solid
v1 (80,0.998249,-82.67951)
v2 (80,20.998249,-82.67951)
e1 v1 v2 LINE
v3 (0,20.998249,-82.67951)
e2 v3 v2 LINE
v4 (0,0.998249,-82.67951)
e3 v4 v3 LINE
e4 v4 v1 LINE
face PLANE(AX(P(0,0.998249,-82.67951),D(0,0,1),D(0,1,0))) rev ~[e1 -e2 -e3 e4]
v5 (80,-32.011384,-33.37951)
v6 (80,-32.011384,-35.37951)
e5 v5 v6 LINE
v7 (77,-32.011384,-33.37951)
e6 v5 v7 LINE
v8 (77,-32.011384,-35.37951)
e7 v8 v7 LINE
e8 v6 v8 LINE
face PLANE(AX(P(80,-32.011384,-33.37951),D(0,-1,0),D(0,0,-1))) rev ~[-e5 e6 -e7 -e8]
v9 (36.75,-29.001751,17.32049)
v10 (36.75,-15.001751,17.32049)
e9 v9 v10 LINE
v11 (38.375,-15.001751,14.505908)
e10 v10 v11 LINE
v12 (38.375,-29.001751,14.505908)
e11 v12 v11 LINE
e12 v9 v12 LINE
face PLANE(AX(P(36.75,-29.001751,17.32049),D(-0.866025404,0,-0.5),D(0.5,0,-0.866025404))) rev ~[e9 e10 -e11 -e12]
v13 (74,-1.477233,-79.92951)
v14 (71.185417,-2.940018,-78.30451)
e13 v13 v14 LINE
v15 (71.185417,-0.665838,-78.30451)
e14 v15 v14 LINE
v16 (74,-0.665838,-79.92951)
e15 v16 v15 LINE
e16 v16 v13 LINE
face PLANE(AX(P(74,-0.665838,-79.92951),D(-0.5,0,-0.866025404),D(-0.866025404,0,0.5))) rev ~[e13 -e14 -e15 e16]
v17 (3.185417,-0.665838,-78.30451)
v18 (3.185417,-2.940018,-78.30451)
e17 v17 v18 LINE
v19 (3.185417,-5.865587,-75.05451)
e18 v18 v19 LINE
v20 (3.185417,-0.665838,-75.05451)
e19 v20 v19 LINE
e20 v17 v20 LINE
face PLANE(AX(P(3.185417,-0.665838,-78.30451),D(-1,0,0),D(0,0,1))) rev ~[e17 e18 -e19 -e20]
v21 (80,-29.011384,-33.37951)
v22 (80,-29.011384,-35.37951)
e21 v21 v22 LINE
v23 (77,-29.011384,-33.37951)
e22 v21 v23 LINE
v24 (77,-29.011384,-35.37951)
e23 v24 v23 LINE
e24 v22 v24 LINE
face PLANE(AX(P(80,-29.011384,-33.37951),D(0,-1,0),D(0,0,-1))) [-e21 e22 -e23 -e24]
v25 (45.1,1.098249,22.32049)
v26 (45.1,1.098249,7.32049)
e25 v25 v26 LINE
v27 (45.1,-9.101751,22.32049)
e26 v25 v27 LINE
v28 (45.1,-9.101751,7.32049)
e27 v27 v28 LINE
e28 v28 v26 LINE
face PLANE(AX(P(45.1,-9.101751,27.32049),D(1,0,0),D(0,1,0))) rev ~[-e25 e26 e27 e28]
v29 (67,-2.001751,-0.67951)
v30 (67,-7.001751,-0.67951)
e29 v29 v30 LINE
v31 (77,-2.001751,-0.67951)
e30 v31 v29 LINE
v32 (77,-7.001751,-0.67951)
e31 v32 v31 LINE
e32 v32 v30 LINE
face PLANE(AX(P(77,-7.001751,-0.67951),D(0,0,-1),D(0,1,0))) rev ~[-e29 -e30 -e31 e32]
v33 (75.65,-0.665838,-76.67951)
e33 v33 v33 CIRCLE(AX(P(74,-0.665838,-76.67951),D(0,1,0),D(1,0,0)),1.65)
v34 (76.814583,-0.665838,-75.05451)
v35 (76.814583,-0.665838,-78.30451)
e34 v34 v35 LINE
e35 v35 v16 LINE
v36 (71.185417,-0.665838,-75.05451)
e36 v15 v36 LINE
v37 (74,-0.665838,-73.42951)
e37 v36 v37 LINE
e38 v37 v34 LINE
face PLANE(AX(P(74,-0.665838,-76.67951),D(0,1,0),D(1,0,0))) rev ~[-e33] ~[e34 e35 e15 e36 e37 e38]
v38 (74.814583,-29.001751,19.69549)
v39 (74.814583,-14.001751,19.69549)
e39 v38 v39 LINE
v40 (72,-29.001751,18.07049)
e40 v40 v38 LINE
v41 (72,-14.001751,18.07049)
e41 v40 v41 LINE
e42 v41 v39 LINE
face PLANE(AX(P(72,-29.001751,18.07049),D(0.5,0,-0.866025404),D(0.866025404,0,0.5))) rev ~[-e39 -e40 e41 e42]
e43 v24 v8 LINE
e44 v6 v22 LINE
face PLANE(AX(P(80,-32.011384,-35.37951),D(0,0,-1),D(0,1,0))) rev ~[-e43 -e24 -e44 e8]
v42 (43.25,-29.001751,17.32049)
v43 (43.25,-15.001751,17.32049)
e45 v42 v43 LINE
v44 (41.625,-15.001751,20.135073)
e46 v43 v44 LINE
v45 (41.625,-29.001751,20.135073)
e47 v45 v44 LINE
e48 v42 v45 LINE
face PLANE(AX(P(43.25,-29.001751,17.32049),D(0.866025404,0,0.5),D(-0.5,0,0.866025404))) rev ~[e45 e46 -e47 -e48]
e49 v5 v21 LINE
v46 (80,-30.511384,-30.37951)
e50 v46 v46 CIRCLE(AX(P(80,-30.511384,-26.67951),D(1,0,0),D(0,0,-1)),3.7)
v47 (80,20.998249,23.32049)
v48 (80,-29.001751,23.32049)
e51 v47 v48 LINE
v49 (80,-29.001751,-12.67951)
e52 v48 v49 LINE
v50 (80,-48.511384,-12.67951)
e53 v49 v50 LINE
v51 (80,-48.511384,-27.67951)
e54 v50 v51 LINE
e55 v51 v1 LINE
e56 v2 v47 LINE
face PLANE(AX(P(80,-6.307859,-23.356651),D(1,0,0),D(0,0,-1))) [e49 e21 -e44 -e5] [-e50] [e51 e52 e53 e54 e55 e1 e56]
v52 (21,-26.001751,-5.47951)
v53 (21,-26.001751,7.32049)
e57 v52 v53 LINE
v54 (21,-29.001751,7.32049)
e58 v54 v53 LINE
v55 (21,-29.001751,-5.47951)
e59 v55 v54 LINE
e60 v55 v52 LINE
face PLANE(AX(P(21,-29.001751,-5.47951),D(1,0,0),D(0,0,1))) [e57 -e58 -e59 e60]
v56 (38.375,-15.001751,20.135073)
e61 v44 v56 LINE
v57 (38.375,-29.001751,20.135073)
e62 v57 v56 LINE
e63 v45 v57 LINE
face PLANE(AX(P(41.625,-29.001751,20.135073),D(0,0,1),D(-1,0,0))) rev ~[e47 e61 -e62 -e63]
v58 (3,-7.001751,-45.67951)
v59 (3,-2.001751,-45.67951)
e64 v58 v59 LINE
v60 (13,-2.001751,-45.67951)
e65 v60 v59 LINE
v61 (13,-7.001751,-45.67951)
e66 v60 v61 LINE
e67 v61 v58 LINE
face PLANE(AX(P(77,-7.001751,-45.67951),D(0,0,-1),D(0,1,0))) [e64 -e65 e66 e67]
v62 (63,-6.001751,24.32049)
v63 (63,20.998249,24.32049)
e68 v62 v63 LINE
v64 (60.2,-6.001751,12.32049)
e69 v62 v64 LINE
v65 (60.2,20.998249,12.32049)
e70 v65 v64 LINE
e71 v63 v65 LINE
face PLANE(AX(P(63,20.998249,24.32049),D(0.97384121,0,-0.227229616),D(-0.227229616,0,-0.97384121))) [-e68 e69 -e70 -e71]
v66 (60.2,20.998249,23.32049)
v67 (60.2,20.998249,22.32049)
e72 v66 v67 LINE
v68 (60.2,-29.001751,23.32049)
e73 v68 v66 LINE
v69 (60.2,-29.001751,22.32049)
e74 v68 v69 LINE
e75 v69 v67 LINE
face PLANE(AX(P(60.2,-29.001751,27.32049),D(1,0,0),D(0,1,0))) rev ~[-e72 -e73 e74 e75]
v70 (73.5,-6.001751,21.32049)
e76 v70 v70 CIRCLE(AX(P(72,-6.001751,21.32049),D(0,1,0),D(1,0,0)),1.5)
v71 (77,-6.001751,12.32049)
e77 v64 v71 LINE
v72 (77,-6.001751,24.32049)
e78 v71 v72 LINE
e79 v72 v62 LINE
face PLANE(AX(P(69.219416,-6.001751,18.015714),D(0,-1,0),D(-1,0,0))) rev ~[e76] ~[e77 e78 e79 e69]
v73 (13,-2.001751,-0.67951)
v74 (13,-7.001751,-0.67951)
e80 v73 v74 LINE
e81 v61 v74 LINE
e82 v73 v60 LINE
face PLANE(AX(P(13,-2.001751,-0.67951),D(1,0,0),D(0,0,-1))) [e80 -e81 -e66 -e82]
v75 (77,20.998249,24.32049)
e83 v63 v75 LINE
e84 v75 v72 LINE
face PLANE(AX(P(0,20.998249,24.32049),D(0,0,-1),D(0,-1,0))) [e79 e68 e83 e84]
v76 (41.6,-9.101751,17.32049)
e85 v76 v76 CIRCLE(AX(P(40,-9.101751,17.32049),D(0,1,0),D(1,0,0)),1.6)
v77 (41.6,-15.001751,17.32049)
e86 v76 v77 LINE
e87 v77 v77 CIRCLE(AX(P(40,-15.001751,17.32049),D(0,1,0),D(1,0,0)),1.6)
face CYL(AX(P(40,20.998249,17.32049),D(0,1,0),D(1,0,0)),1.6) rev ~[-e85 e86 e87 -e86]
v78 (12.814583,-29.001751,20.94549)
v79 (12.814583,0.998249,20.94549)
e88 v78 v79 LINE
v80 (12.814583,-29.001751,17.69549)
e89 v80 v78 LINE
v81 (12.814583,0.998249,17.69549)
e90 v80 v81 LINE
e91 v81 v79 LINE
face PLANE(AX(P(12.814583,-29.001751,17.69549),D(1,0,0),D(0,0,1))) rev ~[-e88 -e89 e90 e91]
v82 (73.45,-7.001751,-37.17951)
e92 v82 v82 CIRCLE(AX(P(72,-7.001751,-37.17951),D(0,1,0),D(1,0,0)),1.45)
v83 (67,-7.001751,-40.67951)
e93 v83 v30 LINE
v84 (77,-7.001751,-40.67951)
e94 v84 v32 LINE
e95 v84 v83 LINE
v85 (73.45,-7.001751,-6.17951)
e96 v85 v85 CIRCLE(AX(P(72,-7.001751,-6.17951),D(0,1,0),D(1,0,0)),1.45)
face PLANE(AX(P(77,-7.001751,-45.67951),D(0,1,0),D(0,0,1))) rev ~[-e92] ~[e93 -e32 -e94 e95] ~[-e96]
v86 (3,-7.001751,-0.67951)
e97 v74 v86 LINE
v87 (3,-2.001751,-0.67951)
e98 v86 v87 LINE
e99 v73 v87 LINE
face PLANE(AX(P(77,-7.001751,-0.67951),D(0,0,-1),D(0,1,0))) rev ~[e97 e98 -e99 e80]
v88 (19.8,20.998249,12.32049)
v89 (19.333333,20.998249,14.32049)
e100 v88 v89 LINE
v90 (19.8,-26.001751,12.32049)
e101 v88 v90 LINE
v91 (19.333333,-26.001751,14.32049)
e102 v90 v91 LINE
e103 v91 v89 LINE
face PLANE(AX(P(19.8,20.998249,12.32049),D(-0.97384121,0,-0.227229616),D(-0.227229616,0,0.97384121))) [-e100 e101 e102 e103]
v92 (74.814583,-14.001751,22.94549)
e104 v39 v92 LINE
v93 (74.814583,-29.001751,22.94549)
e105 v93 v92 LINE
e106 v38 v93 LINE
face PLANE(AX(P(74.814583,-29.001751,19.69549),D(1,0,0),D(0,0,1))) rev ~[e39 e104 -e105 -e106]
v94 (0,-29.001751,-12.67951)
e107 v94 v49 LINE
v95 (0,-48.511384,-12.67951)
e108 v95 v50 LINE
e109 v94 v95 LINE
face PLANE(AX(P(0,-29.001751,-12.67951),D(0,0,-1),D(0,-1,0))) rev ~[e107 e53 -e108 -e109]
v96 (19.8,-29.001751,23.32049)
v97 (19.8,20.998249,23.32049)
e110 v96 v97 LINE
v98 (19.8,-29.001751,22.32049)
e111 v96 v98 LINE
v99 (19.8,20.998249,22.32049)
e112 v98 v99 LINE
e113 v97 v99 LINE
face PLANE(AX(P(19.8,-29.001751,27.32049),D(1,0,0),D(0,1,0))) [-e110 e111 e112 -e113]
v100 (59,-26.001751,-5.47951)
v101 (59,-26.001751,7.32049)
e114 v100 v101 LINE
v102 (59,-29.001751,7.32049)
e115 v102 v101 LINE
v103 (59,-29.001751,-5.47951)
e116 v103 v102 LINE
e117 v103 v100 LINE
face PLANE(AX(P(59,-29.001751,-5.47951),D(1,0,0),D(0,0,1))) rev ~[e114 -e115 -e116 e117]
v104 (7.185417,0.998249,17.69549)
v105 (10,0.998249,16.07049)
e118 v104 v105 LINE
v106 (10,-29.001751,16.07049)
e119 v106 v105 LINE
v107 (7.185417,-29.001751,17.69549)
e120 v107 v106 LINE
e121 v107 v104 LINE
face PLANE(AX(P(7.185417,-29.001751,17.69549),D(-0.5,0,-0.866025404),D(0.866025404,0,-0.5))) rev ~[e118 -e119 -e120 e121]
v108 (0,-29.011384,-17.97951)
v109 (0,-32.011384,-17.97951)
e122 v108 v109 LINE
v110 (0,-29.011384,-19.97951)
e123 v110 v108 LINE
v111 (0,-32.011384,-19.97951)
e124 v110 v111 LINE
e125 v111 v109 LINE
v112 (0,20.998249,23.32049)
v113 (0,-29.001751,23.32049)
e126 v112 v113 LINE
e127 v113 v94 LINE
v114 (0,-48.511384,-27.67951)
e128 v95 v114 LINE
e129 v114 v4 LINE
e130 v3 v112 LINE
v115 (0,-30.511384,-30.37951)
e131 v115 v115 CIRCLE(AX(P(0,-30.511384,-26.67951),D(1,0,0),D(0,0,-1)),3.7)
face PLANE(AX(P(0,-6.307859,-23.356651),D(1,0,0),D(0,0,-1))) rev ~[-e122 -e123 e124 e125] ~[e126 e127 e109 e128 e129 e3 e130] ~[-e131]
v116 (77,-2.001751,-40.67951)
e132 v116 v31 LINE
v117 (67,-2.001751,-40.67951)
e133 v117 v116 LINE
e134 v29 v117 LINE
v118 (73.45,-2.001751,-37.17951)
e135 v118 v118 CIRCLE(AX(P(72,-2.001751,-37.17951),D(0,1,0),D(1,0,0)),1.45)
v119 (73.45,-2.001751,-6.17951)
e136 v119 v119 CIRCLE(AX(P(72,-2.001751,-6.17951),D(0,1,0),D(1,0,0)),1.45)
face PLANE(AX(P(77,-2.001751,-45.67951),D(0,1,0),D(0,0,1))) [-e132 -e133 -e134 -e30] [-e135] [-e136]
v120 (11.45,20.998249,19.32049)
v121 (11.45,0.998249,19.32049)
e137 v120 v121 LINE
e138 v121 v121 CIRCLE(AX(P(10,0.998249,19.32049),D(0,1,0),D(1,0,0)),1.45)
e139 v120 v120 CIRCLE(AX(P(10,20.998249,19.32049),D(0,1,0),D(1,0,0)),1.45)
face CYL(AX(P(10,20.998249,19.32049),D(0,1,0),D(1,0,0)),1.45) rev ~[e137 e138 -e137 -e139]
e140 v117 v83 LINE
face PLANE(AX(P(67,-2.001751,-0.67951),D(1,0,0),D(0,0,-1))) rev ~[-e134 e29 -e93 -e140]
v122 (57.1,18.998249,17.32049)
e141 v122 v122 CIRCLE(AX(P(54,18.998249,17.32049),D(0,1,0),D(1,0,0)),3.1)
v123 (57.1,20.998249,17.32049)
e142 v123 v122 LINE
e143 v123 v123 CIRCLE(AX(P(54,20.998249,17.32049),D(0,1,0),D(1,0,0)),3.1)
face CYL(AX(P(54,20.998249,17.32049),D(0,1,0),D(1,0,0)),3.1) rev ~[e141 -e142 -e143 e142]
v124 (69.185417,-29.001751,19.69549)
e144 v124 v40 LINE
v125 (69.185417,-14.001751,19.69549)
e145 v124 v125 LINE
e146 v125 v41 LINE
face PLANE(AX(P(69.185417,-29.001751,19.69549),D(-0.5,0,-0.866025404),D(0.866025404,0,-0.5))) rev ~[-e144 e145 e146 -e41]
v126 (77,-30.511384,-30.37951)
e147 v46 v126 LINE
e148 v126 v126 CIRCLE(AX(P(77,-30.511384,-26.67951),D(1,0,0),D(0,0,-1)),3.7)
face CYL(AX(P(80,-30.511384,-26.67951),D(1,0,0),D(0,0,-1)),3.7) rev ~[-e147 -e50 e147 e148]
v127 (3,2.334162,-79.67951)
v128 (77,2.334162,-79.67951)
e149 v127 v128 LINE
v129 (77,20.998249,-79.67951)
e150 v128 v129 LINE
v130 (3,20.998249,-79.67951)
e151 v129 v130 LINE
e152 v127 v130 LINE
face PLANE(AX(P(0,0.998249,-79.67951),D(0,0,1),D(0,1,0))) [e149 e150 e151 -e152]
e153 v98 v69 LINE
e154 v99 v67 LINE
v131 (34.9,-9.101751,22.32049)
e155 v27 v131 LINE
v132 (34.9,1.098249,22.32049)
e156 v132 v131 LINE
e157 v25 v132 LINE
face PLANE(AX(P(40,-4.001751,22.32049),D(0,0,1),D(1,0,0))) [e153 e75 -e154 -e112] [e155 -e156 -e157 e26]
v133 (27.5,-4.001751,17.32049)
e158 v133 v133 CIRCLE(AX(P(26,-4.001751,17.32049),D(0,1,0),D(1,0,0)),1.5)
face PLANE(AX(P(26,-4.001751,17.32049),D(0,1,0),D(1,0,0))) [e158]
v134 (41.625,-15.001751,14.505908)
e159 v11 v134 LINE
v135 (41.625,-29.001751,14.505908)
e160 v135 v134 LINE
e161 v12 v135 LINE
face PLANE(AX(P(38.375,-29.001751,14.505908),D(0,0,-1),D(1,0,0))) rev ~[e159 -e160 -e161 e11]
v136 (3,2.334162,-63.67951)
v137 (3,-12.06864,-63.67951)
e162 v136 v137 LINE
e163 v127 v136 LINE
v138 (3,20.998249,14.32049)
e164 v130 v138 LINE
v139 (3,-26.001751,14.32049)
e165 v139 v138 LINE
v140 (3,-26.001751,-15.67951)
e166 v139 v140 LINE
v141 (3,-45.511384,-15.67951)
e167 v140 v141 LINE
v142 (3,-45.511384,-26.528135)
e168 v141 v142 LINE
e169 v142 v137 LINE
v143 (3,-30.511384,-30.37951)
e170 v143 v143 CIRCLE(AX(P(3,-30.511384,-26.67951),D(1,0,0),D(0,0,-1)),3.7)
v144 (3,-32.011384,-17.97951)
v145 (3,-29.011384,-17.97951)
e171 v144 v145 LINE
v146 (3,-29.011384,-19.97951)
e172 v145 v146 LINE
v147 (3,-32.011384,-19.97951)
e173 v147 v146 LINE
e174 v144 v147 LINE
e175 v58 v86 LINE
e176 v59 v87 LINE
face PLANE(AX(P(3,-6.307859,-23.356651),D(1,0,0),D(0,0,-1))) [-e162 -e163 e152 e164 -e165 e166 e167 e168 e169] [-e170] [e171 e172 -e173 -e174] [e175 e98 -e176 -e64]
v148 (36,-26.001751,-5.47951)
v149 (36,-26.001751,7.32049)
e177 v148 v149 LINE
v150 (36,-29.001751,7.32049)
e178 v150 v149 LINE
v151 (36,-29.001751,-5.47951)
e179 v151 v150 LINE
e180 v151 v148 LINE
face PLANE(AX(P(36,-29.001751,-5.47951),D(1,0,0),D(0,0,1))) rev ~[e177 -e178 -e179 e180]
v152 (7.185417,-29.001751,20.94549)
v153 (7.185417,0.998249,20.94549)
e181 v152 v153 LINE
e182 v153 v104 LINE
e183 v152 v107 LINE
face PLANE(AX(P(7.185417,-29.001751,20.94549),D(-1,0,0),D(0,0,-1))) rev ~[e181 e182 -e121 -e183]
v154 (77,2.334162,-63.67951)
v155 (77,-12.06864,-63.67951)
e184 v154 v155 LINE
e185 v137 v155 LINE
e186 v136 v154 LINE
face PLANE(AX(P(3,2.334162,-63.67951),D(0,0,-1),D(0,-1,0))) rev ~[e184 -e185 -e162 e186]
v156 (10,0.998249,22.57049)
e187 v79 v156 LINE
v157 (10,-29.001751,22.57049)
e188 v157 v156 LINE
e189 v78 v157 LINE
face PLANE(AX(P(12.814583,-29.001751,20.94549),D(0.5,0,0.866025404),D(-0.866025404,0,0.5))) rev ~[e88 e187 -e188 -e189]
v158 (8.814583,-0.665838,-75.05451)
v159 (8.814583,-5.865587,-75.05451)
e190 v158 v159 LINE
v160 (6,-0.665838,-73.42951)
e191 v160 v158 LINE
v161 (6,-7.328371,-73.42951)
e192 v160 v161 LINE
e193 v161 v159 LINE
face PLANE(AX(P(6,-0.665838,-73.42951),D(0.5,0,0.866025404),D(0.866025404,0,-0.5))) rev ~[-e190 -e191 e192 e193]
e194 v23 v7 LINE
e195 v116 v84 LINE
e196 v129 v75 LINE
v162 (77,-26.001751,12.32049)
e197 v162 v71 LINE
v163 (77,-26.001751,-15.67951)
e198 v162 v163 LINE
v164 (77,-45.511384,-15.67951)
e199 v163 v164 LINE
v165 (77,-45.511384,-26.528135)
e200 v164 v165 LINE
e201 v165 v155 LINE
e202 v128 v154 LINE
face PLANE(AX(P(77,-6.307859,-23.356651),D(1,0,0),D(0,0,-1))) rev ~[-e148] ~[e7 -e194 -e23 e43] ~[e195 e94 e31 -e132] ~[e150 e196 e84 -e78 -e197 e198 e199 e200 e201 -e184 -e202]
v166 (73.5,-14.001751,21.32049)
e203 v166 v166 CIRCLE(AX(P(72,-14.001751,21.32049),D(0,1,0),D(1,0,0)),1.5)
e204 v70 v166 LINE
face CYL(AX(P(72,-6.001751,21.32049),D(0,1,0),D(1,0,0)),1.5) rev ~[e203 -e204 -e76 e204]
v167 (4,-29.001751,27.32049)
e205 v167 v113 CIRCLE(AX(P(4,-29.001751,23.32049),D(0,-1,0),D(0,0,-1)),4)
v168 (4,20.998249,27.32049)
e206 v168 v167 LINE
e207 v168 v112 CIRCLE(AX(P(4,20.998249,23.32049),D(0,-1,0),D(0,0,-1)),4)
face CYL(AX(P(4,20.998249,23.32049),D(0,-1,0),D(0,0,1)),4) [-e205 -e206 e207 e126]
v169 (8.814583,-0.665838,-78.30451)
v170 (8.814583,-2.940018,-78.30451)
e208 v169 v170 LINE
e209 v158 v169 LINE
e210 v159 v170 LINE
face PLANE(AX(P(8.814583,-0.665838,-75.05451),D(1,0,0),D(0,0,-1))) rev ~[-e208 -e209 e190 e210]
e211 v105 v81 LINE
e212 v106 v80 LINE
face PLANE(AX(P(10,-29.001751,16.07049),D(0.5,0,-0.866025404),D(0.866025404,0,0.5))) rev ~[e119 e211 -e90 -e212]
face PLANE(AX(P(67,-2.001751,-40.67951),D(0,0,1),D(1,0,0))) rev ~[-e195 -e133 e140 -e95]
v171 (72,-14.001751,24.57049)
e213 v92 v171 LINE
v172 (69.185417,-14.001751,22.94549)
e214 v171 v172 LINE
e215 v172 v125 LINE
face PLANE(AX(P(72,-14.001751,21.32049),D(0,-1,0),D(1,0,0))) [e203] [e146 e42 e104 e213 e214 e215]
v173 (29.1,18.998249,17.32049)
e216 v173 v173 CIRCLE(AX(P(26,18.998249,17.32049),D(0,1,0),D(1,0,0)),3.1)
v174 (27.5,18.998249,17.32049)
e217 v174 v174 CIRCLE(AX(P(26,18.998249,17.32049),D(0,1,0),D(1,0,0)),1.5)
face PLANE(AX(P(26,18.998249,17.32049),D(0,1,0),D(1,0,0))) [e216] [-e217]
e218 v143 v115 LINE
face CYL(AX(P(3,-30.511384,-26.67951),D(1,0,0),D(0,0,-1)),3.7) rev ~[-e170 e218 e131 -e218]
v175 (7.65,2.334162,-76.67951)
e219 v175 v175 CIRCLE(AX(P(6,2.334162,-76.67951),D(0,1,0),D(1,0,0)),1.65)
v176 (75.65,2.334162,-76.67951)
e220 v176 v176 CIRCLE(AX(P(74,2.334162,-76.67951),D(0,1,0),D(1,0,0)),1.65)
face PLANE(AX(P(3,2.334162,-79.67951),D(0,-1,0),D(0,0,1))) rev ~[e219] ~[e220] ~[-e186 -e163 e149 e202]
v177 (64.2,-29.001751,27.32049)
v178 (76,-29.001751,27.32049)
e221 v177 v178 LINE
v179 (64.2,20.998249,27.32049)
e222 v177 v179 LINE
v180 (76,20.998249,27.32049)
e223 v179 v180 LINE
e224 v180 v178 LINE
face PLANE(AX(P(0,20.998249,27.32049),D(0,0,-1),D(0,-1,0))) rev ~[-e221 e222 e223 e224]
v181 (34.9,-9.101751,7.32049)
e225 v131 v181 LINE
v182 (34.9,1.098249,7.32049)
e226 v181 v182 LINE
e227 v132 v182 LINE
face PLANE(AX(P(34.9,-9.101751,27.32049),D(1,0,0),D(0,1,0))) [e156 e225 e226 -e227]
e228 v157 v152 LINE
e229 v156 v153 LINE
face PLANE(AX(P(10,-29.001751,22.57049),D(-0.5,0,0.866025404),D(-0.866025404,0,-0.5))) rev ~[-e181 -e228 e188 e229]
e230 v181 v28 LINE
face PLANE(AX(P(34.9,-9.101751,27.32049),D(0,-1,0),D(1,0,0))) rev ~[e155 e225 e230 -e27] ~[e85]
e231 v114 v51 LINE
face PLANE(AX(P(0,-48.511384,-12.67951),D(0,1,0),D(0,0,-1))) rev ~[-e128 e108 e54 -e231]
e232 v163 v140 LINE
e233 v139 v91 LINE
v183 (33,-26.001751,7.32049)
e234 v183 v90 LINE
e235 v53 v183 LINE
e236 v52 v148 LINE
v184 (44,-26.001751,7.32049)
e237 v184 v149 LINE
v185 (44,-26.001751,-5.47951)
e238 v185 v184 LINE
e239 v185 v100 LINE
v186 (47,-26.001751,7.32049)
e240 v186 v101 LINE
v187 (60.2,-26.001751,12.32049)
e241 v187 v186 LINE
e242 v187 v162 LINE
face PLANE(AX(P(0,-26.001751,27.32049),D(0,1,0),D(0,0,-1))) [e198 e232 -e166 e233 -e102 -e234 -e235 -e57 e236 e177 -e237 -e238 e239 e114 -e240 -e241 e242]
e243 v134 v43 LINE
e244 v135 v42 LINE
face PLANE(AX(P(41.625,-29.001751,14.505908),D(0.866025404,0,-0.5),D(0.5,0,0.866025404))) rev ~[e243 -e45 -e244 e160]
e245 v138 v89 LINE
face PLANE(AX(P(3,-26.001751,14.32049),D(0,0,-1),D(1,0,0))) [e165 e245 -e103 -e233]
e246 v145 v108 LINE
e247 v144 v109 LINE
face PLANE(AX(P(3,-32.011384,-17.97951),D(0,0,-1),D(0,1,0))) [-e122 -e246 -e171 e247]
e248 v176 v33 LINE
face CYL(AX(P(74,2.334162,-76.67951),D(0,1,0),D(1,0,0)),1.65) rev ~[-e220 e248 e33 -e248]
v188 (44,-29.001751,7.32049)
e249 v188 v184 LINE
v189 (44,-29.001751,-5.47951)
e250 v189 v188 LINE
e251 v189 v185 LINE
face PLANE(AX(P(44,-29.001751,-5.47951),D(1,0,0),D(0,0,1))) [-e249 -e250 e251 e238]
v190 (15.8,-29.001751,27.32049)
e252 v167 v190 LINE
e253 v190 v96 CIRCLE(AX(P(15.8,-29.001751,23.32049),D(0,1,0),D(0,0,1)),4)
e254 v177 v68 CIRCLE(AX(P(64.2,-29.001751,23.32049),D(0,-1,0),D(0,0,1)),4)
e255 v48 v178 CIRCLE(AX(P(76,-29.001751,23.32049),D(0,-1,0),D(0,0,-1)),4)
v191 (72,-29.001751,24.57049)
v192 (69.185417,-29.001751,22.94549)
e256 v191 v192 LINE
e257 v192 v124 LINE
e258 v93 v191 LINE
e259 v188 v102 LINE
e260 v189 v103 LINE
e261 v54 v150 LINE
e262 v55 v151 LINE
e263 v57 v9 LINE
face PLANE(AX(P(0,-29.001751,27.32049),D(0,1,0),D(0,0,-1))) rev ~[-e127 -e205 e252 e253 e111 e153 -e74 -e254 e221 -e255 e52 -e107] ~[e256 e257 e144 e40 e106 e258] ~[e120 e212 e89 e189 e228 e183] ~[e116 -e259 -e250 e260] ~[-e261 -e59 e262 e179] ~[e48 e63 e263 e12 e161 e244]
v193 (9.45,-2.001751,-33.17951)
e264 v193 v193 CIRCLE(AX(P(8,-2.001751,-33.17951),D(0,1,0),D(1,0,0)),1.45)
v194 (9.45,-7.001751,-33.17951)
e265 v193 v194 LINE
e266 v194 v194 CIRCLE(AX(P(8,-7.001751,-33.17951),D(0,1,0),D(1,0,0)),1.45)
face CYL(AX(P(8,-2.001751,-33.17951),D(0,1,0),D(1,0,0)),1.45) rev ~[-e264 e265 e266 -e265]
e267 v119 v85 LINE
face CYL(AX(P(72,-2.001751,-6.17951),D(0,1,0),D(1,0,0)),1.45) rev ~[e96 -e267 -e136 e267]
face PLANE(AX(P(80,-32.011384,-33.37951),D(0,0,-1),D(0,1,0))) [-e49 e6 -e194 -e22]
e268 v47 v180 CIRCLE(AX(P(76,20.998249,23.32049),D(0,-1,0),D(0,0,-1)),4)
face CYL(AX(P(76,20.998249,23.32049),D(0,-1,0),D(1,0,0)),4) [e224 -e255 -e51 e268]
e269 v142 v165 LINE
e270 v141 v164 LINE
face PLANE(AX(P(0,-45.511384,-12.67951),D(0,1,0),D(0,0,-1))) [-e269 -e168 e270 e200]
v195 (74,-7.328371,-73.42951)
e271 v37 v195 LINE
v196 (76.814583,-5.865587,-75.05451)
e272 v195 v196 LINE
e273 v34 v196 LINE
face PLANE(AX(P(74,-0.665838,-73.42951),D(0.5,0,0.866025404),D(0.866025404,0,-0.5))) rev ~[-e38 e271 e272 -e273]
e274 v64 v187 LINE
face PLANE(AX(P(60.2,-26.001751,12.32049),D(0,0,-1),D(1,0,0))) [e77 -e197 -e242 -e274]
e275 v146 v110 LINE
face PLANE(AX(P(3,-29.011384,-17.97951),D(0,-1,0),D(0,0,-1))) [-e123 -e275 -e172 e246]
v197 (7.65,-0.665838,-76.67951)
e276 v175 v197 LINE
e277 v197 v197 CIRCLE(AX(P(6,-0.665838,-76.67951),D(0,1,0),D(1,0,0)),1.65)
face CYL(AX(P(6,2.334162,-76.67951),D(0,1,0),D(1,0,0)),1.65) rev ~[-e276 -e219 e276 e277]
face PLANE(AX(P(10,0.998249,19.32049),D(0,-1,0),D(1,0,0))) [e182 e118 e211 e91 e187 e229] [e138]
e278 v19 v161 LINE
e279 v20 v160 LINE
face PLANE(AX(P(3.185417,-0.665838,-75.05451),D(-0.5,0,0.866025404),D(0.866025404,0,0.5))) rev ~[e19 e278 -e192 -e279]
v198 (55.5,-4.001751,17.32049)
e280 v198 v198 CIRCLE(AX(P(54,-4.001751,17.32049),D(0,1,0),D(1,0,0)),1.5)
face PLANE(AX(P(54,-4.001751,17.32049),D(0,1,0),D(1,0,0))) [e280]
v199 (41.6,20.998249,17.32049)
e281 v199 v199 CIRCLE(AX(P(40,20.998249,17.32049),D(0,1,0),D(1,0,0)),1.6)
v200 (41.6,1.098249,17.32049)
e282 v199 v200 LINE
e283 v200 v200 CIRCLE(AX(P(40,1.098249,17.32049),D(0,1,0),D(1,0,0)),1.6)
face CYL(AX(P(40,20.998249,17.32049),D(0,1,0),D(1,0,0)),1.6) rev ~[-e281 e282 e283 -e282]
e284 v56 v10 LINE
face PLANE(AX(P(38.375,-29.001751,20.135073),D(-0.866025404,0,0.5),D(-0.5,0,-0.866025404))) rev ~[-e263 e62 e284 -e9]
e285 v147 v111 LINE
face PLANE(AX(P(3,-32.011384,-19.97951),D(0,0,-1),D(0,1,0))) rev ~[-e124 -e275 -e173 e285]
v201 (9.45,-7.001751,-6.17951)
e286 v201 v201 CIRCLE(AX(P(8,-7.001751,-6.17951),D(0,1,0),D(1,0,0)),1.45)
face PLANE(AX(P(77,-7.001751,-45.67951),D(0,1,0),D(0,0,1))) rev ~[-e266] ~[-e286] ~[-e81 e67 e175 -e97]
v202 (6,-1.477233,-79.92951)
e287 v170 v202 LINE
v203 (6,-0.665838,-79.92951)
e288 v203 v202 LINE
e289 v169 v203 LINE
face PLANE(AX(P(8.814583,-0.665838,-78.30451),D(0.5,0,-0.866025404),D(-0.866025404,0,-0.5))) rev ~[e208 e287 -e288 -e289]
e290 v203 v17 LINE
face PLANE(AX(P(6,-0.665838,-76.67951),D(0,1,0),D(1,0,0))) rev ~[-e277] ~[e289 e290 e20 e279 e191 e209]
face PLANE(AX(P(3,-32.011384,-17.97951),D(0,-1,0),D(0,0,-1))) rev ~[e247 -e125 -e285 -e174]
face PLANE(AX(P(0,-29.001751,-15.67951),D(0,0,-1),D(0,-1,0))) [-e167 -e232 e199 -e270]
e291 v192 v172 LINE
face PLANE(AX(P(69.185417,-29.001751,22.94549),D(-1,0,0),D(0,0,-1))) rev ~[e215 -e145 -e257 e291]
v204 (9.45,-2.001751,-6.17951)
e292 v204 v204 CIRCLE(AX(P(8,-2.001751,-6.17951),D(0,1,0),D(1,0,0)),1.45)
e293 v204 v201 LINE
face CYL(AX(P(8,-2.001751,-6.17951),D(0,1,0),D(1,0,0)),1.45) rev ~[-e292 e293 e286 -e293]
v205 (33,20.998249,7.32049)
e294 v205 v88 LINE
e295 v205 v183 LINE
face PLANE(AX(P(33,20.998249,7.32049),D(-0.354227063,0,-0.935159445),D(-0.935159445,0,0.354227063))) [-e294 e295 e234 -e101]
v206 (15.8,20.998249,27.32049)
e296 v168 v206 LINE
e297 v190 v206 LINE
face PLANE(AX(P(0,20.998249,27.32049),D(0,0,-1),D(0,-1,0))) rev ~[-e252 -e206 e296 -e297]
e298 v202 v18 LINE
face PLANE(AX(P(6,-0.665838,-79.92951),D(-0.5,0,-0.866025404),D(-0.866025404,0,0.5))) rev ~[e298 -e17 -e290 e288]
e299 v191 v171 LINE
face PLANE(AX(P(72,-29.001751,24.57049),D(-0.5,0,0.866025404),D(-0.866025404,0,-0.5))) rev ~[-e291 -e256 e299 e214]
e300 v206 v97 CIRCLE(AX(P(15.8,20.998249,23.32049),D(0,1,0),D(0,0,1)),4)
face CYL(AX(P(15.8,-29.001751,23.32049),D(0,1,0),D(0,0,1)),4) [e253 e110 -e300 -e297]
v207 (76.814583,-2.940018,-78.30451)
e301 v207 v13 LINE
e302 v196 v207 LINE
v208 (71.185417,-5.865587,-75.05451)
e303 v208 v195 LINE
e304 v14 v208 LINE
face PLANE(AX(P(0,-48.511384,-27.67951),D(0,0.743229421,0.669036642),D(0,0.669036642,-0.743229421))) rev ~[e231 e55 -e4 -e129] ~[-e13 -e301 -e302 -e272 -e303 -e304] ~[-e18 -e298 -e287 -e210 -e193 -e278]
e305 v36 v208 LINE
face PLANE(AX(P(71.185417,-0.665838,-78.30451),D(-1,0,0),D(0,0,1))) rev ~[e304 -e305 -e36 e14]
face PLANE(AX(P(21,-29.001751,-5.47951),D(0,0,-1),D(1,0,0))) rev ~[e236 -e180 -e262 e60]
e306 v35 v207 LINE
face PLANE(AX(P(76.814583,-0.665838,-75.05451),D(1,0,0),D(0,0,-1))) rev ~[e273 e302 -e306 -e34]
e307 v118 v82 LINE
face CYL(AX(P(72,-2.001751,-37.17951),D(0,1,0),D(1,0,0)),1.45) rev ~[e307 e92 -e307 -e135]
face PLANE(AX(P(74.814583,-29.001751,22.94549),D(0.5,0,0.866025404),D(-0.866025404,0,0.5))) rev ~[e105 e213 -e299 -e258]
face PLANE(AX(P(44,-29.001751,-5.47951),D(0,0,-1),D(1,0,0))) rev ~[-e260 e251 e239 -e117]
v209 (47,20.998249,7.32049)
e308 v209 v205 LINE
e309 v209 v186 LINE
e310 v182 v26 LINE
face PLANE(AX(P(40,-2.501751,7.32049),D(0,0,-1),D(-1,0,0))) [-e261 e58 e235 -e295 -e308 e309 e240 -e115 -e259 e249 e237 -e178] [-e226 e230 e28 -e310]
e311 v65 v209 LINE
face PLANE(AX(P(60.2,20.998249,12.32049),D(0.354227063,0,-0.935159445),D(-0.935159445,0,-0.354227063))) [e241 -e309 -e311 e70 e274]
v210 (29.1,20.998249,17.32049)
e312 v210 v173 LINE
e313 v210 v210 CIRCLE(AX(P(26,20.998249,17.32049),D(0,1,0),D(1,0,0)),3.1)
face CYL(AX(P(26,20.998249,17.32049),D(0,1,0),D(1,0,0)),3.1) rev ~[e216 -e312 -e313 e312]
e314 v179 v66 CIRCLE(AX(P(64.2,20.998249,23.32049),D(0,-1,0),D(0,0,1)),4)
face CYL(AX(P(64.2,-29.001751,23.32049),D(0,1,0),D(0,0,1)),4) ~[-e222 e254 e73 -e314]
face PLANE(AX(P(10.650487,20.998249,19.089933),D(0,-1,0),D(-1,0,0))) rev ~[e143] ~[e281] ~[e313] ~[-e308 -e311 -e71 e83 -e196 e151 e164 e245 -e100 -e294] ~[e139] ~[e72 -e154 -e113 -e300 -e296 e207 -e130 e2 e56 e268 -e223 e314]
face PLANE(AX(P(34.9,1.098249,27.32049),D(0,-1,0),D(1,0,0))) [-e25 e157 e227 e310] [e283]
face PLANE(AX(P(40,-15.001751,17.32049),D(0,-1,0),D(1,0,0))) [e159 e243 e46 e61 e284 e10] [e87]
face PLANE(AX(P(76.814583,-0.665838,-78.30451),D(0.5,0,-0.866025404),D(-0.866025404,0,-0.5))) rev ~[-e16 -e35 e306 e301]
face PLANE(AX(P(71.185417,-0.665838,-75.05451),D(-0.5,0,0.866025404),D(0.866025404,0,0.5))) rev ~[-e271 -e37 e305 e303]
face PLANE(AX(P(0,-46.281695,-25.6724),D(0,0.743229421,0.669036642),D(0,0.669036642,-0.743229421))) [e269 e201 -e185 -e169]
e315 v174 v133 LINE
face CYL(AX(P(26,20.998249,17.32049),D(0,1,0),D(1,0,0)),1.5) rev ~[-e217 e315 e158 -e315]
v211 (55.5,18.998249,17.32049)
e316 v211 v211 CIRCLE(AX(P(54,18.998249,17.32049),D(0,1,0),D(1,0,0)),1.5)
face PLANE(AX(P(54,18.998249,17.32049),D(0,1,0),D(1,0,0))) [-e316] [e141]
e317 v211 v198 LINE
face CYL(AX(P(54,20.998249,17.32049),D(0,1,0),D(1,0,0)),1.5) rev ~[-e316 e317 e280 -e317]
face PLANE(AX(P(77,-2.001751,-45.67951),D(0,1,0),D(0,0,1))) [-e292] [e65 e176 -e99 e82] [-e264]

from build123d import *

# Parameters (mm, degrees)
BOSS_EXTRUDE1_DEPTH = 80
SHELL1_T            = -3
SKETCH3_W           = 46
SKETCH3_H           = 47
BOSS_EXTRUDE2_DEPTH = 17
SKETCH4_W           = 10.2
SKETCH4_H           = 10.2
CUT_EXTRUDE1_DEPTH  = 20
SKETCH6_W           = 15
SKETCH6_H           = 12.8
CUT_EXTRUDE2_DEPTH  = 3
SKETCH7_W           = 40.4
SKETCH7_H           = 50
CUT_EXTRUDE3_DEPTH  = 5
FILLET1_R           = 4
CUT_EXTRUDE7_DEPTH  = 47
SKETCH13_R          = 1.5
CUT_EXTRUDE8_DEPTH  = 25
SKETCH14_R          = 3.1
CUT_EXTRUDE9_DEPTH  = 2
SKETCH17_W          = 45
SKETCH17_H          = 5
BOSS_EXTRUDE5_DEPTH = 74
CUT_EXTRUDE10_REACH = 48.51
SKETCH18_W          = 54
SKETCH18_H          = 45
CUT_EXTRUDE11_REACH = 48.51
SKETCH19_R          = 1.45
BOSS_EXTRUDE6_DEPTH = 47
SKETCH22_R          = 1.45
CUT_EXTRUDE12_DEPTH = 70.509632224
CUT_EXTRUDE13_REACH = 82
SKETCH24_R          = 3.7
SKETCH24_W          = 2
SKETCH24_H          = 3
BOSS_EXTRUDE7_DEPTH = 74
SKETCH27_R          = 1.65
CUT_EXTRUDE14_DEPTH = 10
CUT_EXTRUDE15_START = -3
CUT_EXTRUDE15_DEPTH = 32
CUT_EXTRUDE16_DEPTH = 30
BOSS_EXTRUDE8_DEPTH = 20
SKETCH31_R          = 1.5
CUT_EXTRUDE17_DEPTH = 43.509632224
CUT_EXTRUDE18_DEPTH = 15
CUT_EXTRUDE19_REACH = 48.51
SKETCH33_W          = 10
SKETCH33_H          = 5
SKETCH34_R          = 1.6
CUT_EXTRUDE20_DEPTH = 70.509632224
CUT_EXTRUDE22_DEPTH = 14
CUT_EXTRUDE24_REACH = 5
SKETCH40_R          = 3.7
SKETCH40_W          = 2
SKETCH40_H          = 3


with BuildPart() as part:
    # Sketch2 → Boss-Extrude1 (new body)
    with BuildSketch(Plane(origin=(0, 0, 0), x_dir=(0, 0, -1), z_dir=(1, 0, 0))):
        Polygon((-27.320490368, 20.998248687), (-27.320490368, -29.001751313), (12.679509632, -29.001751313), (12.679509632, -48.511383538), (27.679509632, -48.511383538), (82.679509632, 0.998248687), (82.679509632, 20.998248687), align=None)
    extrude(amount=BOSS_EXTRUDE1_DEPTH)

    # Shell1
    shell1_openings = [part.faces().sort_by_distance(p)[0] for p in [
        (40, 20.998248687, -27.679509632),
    ]]
    offset(amount=SHELL1_T, openings=shell1_openings, kind=Kind.INTERSECTION)

    # Sketch3 → Boss-Extrude2 (add)
    with BuildSketch(Plane(origin=(0, 0, 24.320490368), x_dir=(-1, 0, 0), z_dir=(0, 0, -1))):
        with Locations((-40, -2.501751313)):
            Rectangle(SKETCH3_W, SKETCH3_H)
    extrude(amount=BOSS_EXTRUDE2_DEPTH)

    # Sketch4 → Cut-Extrude1 (cut)
    with BuildSketch(Plane.XY.offset(27.320490368)):
        with Locations((40, -4.001751313)):
            Rectangle(SKETCH4_W, SKETCH4_H)
    extrude(amount=-CUT_EXTRUDE1_DEPTH, mode=Mode.SUBTRACT)

    # Sketch6 → Cut-Extrude2 (cut)
    with BuildSketch(Plane.XZ.offset(29.001751313)):
        with Locations((51.5, 0.920490368)):
            Rectangle(SKETCH6_W, SKETCH6_H)
        with Locations((28.5, 0.920490368)):
            Rectangle(SKETCH6_W, SKETCH6_H)
    extrude(amount=-CUT_EXTRUDE2_DEPTH, mode=Mode.SUBTRACT)

    # Sketch7 → Cut-Extrude3 (cut)
    with BuildSketch(Plane.XY.offset(27.320490368)):
        with Locations((40, -4.001751313)):
            Rectangle(SKETCH7_W, SKETCH7_H)
    extrude(amount=-CUT_EXTRUDE3_DEPTH, mode=Mode.SUBTRACT)

    # Fillet1
    fillet1_edges = [part.edges().sort_by_distance(p)[0] for p in [
        (19.8, -4.001751313, 27.320490368),
        (60.2, -4.001751313, 27.320490368),
        (80, -4.001751313, 27.320490368),
        (0, -4.001751313, 27.320490368),
    ]]
    fillet(fillet1_edges, radius=FILLET1_R)

    # Sketch12 → Cut-Extrude7 (cut)
    with BuildSketch(Plane(origin=(0, 20.998248687, 0), x_dir=(1, 0, 0), z_dir=(0, 1, 0))):
        Polygon((33, -7.320490368), (19.8, -12.320490368), (17, -24.320490368), (17, -7.320490368), align=None)
        Polygon((47, -7.320490368), (63, -7.320490368), (63, -24.320490368), (60.2, -12.320490368), align=None)
    extrude(amount=-CUT_EXTRUDE7_DEPTH, mode=Mode.SUBTRACT)

    # Sketch13 → Cut-Extrude8 (cut)
    with BuildSketch(Plane(origin=(0, 20.998248687, 0), x_dir=(1, 0, 0), z_dir=(0, 1, 0))):
        with Locations((26, -17.320490368)):
            Circle(SKETCH13_R)
        with Locations((54, -17.320490368)):
            Circle(SKETCH13_R)
    extrude(amount=-CUT_EXTRUDE8_DEPTH, mode=Mode.SUBTRACT)

    # Sketch14 → Cut-Extrude9 (cut)
    with BuildSketch(Plane(origin=(0, 20.998248687, 0), x_dir=(1, 0, 0), z_dir=(0, 1, 0))):
        with Locations((26, -17.320490368)):
            Circle(SKETCH14_R)
        with Locations((54, -17.320490368)):
            Circle(SKETCH14_R)
    extrude(amount=-CUT_EXTRUDE9_DEPTH, mode=Mode.SUBTRACT)

    # Sketch17 → Boss-Extrude5 (add)
    with BuildSketch(Plane.ZY.offset(-77)):
        with Locations((-23.179509632, -4.501751313)):
            Rectangle(SKETCH17_W, SKETCH17_H)
    extrude(amount=BOSS_EXTRUDE5_DEPTH)

    # Sketch18 → Cut-Extrude10 (cut, up to next)
    with BuildSketch(Plane(origin=(0, -2.001751313, 0), x_dir=(1, 0, 0), z_dir=(0, 1, 0)), mode=Mode.PRIVATE) as cut_extrude10_sk1:
        with Locations((40, 23.179509632)):
            Rectangle(SKETCH18_W, SKETCH18_H)
    cut_extrude10_tool1 = extrude(cut_extrude10_sk1.sketch, amount=-CUT_EXTRUDE10_REACH, mode=Mode.PRIVATE) & part.part
    add(cut_extrude10_tool1.solids().sort_by_distance((40, -2.001751, -23.17951))[0], mode=Mode.SUBTRACT)

    # Sketch19 → Cut-Extrude11 (cut, up to next)
    with BuildSketch(Plane(origin=(0, -2.001751313, 0), x_dir=(1, 0, 0), z_dir=(0, 1, 0)), mode=Mode.PRIVATE) as cut_extrude11_sk1:
        with Locations((72, 37.179509632)):
            Circle(SKETCH19_R)
    cut_extrude11_tool1 = extrude(cut_extrude11_sk1.sketch, amount=-CUT_EXTRUDE11_REACH, mode=Mode.PRIVATE) & part.part
    add(cut_extrude11_tool1.solids().sort_by_distance((72, -2.001751, -37.17951))[0], mode=Mode.SUBTRACT)
    # Sketch19 → Cut-Extrude11 (cut, up to next)
    with BuildSketch(Plane(origin=(0, -2.001751313, 0), x_dir=(1, 0, 0), z_dir=(0, 1, 0)), mode=Mode.PRIVATE) as cut_extrude11_sk2:
        with Locations((72, 6.179509632)):
            Circle(SKETCH19_R)
    cut_extrude11_tool2 = extrude(cut_extrude11_sk2.sketch, amount=-CUT_EXTRUDE11_REACH, mode=Mode.PRIVATE) & part.part
    add(cut_extrude11_tool2.solids().sort_by_distance((72, -2.001751, -6.17951))[0], mode=Mode.SUBTRACT)
    # Sketch19 → Cut-Extrude11 (cut, up to next)
    with BuildSketch(Plane(origin=(0, -2.001751313, 0), x_dir=(1, 0, 0), z_dir=(0, 1, 0)), mode=Mode.PRIVATE) as cut_extrude11_sk3:
        with Locations((8, 33.179509632)):
            Circle(SKETCH19_R)
    cut_extrude11_tool3 = extrude(cut_extrude11_sk3.sketch, amount=-CUT_EXTRUDE11_REACH, mode=Mode.PRIVATE) & part.part
    add(cut_extrude11_tool3.solids().sort_by_distance((8, -2.001751, -33.17951))[0], mode=Mode.SUBTRACT)
    # Sketch19 → Cut-Extrude11 (cut, up to next)
    with BuildSketch(Plane(origin=(0, -2.001751313, 0), x_dir=(1, 0, 0), z_dir=(0, 1, 0)), mode=Mode.PRIVATE) as cut_extrude11_sk4:
        with Locations((8, 6.179509632)):
            Circle(SKETCH19_R)
    cut_extrude11_tool4 = extrude(cut_extrude11_sk4.sketch, amount=-CUT_EXTRUDE11_REACH, mode=Mode.PRIVATE) & part.part
    add(cut_extrude11_tool4.solids().sort_by_distance((8, -2.001751, -6.17951))[0], mode=Mode.SUBTRACT)

    # Sketch21 → Boss-Extrude6 (add)
    with BuildSketch(Plane(origin=(0, -26.001751313, 0), x_dir=(1, 0, 0), z_dir=(0, 1, 0))):
        Polygon((3, -24.320490368), (3, -14.320490368), (19.333333333, -14.320490368), (17, -24.320490368), align=None)
    extrude(amount=BOSS_EXTRUDE6_DEPTH)

    # Sketch22 → Cut-Extrude12 (cut, through all)
    with BuildSketch(Plane(origin=(0, 20.998248687, 0), x_dir=(1, 0, 0), z_dir=(0, 1, 0))):
        with Locations((10, -19.320490368)):
            Circle(SKETCH22_R)
    extrude(amount=-CUT_EXTRUDE12_DEPTH, mode=Mode.SUBTRACT)

    # Sketch24 → Cut-Extrude13 (cut, up to next)
    with BuildSketch(Plane(origin=(80, 0, 0), x_dir=(0, 0, -1), z_dir=(1, 0, 0)), mode=Mode.PRIVATE) as cut_extrude13_sk1:
        with Locations((26.679509632, -30.511383538)):
            Circle(SKETCH24_R)
    cut_extrude13_tool1 = extrude(cut_extrude13_sk1.sketch, amount=-CUT_EXTRUDE13_REACH, mode=Mode.PRIVATE) & part.part
    add(cut_extrude13_tool1.solids().sort_by_distance((80, -30.511384, -26.67951))[0], mode=Mode.SUBTRACT)
    # Sketch24 → Cut-Extrude13 (cut, up to next)
    with BuildSketch(Plane(origin=(80, 0, 0), x_dir=(0, 0, -1), z_dir=(1, 0, 0)), mode=Mode.PRIVATE) as cut_extrude13_sk2:
        with Locations((34.379509632, -30.511383538)):
            Rectangle(SKETCH24_W, SKETCH24_H)
    cut_extrude13_tool2 = extrude(cut_extrude13_sk2.sketch, amount=-CUT_EXTRUDE13_REACH, mode=Mode.PRIVATE) & part.part
    add(cut_extrude13_tool2.solids().sort_by_distance((80, -30.511384, -34.37951))[0], mode=Mode.SUBTRACT)

    # Sketch26 → Boss-Extrude7 (add)
    with BuildSketch(Plane(origin=(3, 0, 0), x_dir=(0, 0, -1), z_dir=(1, 0, 0))):
        Polygon((79.679509632, 2.334161996), (63.679509632, 2.334161996), (63.679509632, -12.068640106), align=None)
    extrude(amount=BOSS_EXTRUDE7_DEPTH)

    # Sketch27 → Cut-Extrude14 (cut)
    with BuildSketch(Plane(origin=(0, 2.334161996, 0), x_dir=(1, 0, 0), z_dir=(0, 1, 0))):
        with Locations((6, 76.679509632)):
            Circle(SKETCH27_R)
        with Locations((74, 76.679509632)):
            Circle(SKETCH27_R)
    extrude(amount=-CUT_EXTRUDE14_DEPTH, mode=Mode.SUBTRACT)

    # Sketch28 → Cut-Extrude15 (cut)
    with BuildSketch(Plane(origin=(0, 2.334161996, 0), x_dir=(1, 0, 0), z_dir=(0, 1, 0)).offset(CUT_EXTRUDE15_START)):
        Polygon((74, 79.929509632), (71.185417438, 78.304509632), (71.185417438, 75.054509632), (74, 73.429509632), (76.814582562, 75.054509632), (76.814582562, 78.304509632), align=None)
        Polygon((6, 73.429509632), (8.814582562, 75.054509632), (8.814582562, 78.304509632), (6, 79.929509632), (3.185417438, 78.304509632), (3.185417438, 75.054509632), align=None)
    extrude(amount=-CUT_EXTRUDE15_DEPTH, mode=Mode.SUBTRACT)

    # Sketch29 → Cut-Extrude16 (cut)
    with BuildSketch(Plane.XZ.offset(29.001751313)):
        Polygon((7.185417438, 17.695490368), (10, 16.070490368), (12.814582562, 17.695490368), (12.814582562, 20.945490368), (10, 22.570490368), (7.185417438, 20.945490368), align=None)
    extrude(amount=-CUT_EXTRUDE16_DEPTH, mode=Mode.SUBTRACT)

    # Sketch30 → Boss-Extrude8 (add)
    with BuildSketch(Plane(origin=(0, -26.001751313, 0), x_dir=(1, 0, 0), z_dir=(0, 1, 0))):
        Polygon((77, -24.320490368), (63, -24.320490368), (60.2, -12.320490368), (77, -12.320490368), align=None)
    extrude(amount=BOSS_EXTRUDE8_DEPTH)

    # Sketch31 → Cut-Extrude17 (cut, through all)
    with BuildSketch(Plane(origin=(0, -6.001751313, 0), x_dir=(1, 0, 0), z_dir=(0, 1, 0))):
        with Locations((72, -21.320490368)):
            Circle(SKETCH31_R)
    extrude(amount=-CUT_EXTRUDE17_DEPTH, mode=Mode.SUBTRACT)

    # Sketch32 → Cut-Extrude18 (cut)
    with BuildSketch(Plane.XZ.offset(29.001751313)):
        Polygon((72, 24.570490368), (69.185417438, 22.945490368), (69.185417438, 19.695490368), (72, 18.070490368), (74.814582562, 19.695490368), (74.814582562, 22.945490368), align=None)
    extrude(amount=-CUT_EXTRUDE18_DEPTH, mode=Mode.SUBTRACT)

    # Sketch33 → Cut-Extrude19 (cut, up to next)
    with BuildSketch(Plane(origin=(0, -2.001751313, 0), x_dir=(1, 0, 0), z_dir=(0, 1, 0)), mode=Mode.PRIVATE) as cut_extrude19_sk1:
        with Locations((72, 43.179509632)):
            Rectangle(SKETCH33_W, SKETCH33_H)
    cut_extrude19_tool1 = extrude(cut_extrude19_sk1.sketch, amount=-CUT_EXTRUDE19_REACH, mode=Mode.PRIVATE) & part.part
    add(cut_extrude19_tool1.solids().sort_by_distance((72, -2.001751, -43.17951))[0], mode=Mode.SUBTRACT)

    # Sketch34 → Cut-Extrude20 (cut, through all)
    with BuildSketch(Plane(origin=(0, 20.998248687, 0), x_dir=(1, 0, 0), z_dir=(0, 1, 0))):
        with Locations((40, -17.320490368)):
            Circle(SKETCH34_R)
    extrude(amount=-CUT_EXTRUDE20_DEPTH, mode=Mode.SUBTRACT)

    # Sketch36 → Cut-Extrude22 (cut)
    with BuildSketch(Plane.XZ.offset(29.001751313)):
        Polygon((38.375, 20.13507293), (36.75, 17.320490368), (38.375, 14.505907805), (41.625, 14.505907805), (43.25, 17.320490368), (41.625, 20.13507293), align=None)
    extrude(amount=-CUT_EXTRUDE22_DEPTH, mode=Mode.SUBTRACT)

    # Sketch40 → Cut-Extrude24 (cut, up to next)
    with BuildSketch(Plane(origin=(3, 0, 0), x_dir=(0, 0, -1), z_dir=(1, 0, 0)), mode=Mode.PRIVATE) as cut_extrude24_sk1:
        with Locations((26.679509632, -30.511383538)):
            Circle(SKETCH40_R)
    cut_extrude24_tool1 = extrude(cut_extrude24_sk1.sketch, amount=-CUT_EXTRUDE24_REACH, mode=Mode.PRIVATE) & part.part
    add(cut_extrude24_tool1.solids().sort_by_distance((3, -30.511384, -26.67951))[0], mode=Mode.SUBTRACT)
    # Sketch40 → Cut-Extrude24 (cut, up to next)
    with BuildSketch(Plane(origin=(3, 0, 0), x_dir=(0, 0, -1), z_dir=(1, 0, 0)), mode=Mode.PRIVATE) as cut_extrude24_sk2:
        with Locations((18.979509632, -30.511383538)):
            Rectangle(SKETCH40_W, SKETCH40_H)
    cut_extrude24_tool2 = extrude(cut_extrude24_sk2.sketch, amount=-CUT_EXTRUDE24_REACH, mode=Mode.PRIVATE) & part.part
    add(cut_extrude24_tool2.solids().sort_by_distance((3, -30.511384, -18.97951))[0], mode=Mode.SUBTRACT)


solid = part.part
